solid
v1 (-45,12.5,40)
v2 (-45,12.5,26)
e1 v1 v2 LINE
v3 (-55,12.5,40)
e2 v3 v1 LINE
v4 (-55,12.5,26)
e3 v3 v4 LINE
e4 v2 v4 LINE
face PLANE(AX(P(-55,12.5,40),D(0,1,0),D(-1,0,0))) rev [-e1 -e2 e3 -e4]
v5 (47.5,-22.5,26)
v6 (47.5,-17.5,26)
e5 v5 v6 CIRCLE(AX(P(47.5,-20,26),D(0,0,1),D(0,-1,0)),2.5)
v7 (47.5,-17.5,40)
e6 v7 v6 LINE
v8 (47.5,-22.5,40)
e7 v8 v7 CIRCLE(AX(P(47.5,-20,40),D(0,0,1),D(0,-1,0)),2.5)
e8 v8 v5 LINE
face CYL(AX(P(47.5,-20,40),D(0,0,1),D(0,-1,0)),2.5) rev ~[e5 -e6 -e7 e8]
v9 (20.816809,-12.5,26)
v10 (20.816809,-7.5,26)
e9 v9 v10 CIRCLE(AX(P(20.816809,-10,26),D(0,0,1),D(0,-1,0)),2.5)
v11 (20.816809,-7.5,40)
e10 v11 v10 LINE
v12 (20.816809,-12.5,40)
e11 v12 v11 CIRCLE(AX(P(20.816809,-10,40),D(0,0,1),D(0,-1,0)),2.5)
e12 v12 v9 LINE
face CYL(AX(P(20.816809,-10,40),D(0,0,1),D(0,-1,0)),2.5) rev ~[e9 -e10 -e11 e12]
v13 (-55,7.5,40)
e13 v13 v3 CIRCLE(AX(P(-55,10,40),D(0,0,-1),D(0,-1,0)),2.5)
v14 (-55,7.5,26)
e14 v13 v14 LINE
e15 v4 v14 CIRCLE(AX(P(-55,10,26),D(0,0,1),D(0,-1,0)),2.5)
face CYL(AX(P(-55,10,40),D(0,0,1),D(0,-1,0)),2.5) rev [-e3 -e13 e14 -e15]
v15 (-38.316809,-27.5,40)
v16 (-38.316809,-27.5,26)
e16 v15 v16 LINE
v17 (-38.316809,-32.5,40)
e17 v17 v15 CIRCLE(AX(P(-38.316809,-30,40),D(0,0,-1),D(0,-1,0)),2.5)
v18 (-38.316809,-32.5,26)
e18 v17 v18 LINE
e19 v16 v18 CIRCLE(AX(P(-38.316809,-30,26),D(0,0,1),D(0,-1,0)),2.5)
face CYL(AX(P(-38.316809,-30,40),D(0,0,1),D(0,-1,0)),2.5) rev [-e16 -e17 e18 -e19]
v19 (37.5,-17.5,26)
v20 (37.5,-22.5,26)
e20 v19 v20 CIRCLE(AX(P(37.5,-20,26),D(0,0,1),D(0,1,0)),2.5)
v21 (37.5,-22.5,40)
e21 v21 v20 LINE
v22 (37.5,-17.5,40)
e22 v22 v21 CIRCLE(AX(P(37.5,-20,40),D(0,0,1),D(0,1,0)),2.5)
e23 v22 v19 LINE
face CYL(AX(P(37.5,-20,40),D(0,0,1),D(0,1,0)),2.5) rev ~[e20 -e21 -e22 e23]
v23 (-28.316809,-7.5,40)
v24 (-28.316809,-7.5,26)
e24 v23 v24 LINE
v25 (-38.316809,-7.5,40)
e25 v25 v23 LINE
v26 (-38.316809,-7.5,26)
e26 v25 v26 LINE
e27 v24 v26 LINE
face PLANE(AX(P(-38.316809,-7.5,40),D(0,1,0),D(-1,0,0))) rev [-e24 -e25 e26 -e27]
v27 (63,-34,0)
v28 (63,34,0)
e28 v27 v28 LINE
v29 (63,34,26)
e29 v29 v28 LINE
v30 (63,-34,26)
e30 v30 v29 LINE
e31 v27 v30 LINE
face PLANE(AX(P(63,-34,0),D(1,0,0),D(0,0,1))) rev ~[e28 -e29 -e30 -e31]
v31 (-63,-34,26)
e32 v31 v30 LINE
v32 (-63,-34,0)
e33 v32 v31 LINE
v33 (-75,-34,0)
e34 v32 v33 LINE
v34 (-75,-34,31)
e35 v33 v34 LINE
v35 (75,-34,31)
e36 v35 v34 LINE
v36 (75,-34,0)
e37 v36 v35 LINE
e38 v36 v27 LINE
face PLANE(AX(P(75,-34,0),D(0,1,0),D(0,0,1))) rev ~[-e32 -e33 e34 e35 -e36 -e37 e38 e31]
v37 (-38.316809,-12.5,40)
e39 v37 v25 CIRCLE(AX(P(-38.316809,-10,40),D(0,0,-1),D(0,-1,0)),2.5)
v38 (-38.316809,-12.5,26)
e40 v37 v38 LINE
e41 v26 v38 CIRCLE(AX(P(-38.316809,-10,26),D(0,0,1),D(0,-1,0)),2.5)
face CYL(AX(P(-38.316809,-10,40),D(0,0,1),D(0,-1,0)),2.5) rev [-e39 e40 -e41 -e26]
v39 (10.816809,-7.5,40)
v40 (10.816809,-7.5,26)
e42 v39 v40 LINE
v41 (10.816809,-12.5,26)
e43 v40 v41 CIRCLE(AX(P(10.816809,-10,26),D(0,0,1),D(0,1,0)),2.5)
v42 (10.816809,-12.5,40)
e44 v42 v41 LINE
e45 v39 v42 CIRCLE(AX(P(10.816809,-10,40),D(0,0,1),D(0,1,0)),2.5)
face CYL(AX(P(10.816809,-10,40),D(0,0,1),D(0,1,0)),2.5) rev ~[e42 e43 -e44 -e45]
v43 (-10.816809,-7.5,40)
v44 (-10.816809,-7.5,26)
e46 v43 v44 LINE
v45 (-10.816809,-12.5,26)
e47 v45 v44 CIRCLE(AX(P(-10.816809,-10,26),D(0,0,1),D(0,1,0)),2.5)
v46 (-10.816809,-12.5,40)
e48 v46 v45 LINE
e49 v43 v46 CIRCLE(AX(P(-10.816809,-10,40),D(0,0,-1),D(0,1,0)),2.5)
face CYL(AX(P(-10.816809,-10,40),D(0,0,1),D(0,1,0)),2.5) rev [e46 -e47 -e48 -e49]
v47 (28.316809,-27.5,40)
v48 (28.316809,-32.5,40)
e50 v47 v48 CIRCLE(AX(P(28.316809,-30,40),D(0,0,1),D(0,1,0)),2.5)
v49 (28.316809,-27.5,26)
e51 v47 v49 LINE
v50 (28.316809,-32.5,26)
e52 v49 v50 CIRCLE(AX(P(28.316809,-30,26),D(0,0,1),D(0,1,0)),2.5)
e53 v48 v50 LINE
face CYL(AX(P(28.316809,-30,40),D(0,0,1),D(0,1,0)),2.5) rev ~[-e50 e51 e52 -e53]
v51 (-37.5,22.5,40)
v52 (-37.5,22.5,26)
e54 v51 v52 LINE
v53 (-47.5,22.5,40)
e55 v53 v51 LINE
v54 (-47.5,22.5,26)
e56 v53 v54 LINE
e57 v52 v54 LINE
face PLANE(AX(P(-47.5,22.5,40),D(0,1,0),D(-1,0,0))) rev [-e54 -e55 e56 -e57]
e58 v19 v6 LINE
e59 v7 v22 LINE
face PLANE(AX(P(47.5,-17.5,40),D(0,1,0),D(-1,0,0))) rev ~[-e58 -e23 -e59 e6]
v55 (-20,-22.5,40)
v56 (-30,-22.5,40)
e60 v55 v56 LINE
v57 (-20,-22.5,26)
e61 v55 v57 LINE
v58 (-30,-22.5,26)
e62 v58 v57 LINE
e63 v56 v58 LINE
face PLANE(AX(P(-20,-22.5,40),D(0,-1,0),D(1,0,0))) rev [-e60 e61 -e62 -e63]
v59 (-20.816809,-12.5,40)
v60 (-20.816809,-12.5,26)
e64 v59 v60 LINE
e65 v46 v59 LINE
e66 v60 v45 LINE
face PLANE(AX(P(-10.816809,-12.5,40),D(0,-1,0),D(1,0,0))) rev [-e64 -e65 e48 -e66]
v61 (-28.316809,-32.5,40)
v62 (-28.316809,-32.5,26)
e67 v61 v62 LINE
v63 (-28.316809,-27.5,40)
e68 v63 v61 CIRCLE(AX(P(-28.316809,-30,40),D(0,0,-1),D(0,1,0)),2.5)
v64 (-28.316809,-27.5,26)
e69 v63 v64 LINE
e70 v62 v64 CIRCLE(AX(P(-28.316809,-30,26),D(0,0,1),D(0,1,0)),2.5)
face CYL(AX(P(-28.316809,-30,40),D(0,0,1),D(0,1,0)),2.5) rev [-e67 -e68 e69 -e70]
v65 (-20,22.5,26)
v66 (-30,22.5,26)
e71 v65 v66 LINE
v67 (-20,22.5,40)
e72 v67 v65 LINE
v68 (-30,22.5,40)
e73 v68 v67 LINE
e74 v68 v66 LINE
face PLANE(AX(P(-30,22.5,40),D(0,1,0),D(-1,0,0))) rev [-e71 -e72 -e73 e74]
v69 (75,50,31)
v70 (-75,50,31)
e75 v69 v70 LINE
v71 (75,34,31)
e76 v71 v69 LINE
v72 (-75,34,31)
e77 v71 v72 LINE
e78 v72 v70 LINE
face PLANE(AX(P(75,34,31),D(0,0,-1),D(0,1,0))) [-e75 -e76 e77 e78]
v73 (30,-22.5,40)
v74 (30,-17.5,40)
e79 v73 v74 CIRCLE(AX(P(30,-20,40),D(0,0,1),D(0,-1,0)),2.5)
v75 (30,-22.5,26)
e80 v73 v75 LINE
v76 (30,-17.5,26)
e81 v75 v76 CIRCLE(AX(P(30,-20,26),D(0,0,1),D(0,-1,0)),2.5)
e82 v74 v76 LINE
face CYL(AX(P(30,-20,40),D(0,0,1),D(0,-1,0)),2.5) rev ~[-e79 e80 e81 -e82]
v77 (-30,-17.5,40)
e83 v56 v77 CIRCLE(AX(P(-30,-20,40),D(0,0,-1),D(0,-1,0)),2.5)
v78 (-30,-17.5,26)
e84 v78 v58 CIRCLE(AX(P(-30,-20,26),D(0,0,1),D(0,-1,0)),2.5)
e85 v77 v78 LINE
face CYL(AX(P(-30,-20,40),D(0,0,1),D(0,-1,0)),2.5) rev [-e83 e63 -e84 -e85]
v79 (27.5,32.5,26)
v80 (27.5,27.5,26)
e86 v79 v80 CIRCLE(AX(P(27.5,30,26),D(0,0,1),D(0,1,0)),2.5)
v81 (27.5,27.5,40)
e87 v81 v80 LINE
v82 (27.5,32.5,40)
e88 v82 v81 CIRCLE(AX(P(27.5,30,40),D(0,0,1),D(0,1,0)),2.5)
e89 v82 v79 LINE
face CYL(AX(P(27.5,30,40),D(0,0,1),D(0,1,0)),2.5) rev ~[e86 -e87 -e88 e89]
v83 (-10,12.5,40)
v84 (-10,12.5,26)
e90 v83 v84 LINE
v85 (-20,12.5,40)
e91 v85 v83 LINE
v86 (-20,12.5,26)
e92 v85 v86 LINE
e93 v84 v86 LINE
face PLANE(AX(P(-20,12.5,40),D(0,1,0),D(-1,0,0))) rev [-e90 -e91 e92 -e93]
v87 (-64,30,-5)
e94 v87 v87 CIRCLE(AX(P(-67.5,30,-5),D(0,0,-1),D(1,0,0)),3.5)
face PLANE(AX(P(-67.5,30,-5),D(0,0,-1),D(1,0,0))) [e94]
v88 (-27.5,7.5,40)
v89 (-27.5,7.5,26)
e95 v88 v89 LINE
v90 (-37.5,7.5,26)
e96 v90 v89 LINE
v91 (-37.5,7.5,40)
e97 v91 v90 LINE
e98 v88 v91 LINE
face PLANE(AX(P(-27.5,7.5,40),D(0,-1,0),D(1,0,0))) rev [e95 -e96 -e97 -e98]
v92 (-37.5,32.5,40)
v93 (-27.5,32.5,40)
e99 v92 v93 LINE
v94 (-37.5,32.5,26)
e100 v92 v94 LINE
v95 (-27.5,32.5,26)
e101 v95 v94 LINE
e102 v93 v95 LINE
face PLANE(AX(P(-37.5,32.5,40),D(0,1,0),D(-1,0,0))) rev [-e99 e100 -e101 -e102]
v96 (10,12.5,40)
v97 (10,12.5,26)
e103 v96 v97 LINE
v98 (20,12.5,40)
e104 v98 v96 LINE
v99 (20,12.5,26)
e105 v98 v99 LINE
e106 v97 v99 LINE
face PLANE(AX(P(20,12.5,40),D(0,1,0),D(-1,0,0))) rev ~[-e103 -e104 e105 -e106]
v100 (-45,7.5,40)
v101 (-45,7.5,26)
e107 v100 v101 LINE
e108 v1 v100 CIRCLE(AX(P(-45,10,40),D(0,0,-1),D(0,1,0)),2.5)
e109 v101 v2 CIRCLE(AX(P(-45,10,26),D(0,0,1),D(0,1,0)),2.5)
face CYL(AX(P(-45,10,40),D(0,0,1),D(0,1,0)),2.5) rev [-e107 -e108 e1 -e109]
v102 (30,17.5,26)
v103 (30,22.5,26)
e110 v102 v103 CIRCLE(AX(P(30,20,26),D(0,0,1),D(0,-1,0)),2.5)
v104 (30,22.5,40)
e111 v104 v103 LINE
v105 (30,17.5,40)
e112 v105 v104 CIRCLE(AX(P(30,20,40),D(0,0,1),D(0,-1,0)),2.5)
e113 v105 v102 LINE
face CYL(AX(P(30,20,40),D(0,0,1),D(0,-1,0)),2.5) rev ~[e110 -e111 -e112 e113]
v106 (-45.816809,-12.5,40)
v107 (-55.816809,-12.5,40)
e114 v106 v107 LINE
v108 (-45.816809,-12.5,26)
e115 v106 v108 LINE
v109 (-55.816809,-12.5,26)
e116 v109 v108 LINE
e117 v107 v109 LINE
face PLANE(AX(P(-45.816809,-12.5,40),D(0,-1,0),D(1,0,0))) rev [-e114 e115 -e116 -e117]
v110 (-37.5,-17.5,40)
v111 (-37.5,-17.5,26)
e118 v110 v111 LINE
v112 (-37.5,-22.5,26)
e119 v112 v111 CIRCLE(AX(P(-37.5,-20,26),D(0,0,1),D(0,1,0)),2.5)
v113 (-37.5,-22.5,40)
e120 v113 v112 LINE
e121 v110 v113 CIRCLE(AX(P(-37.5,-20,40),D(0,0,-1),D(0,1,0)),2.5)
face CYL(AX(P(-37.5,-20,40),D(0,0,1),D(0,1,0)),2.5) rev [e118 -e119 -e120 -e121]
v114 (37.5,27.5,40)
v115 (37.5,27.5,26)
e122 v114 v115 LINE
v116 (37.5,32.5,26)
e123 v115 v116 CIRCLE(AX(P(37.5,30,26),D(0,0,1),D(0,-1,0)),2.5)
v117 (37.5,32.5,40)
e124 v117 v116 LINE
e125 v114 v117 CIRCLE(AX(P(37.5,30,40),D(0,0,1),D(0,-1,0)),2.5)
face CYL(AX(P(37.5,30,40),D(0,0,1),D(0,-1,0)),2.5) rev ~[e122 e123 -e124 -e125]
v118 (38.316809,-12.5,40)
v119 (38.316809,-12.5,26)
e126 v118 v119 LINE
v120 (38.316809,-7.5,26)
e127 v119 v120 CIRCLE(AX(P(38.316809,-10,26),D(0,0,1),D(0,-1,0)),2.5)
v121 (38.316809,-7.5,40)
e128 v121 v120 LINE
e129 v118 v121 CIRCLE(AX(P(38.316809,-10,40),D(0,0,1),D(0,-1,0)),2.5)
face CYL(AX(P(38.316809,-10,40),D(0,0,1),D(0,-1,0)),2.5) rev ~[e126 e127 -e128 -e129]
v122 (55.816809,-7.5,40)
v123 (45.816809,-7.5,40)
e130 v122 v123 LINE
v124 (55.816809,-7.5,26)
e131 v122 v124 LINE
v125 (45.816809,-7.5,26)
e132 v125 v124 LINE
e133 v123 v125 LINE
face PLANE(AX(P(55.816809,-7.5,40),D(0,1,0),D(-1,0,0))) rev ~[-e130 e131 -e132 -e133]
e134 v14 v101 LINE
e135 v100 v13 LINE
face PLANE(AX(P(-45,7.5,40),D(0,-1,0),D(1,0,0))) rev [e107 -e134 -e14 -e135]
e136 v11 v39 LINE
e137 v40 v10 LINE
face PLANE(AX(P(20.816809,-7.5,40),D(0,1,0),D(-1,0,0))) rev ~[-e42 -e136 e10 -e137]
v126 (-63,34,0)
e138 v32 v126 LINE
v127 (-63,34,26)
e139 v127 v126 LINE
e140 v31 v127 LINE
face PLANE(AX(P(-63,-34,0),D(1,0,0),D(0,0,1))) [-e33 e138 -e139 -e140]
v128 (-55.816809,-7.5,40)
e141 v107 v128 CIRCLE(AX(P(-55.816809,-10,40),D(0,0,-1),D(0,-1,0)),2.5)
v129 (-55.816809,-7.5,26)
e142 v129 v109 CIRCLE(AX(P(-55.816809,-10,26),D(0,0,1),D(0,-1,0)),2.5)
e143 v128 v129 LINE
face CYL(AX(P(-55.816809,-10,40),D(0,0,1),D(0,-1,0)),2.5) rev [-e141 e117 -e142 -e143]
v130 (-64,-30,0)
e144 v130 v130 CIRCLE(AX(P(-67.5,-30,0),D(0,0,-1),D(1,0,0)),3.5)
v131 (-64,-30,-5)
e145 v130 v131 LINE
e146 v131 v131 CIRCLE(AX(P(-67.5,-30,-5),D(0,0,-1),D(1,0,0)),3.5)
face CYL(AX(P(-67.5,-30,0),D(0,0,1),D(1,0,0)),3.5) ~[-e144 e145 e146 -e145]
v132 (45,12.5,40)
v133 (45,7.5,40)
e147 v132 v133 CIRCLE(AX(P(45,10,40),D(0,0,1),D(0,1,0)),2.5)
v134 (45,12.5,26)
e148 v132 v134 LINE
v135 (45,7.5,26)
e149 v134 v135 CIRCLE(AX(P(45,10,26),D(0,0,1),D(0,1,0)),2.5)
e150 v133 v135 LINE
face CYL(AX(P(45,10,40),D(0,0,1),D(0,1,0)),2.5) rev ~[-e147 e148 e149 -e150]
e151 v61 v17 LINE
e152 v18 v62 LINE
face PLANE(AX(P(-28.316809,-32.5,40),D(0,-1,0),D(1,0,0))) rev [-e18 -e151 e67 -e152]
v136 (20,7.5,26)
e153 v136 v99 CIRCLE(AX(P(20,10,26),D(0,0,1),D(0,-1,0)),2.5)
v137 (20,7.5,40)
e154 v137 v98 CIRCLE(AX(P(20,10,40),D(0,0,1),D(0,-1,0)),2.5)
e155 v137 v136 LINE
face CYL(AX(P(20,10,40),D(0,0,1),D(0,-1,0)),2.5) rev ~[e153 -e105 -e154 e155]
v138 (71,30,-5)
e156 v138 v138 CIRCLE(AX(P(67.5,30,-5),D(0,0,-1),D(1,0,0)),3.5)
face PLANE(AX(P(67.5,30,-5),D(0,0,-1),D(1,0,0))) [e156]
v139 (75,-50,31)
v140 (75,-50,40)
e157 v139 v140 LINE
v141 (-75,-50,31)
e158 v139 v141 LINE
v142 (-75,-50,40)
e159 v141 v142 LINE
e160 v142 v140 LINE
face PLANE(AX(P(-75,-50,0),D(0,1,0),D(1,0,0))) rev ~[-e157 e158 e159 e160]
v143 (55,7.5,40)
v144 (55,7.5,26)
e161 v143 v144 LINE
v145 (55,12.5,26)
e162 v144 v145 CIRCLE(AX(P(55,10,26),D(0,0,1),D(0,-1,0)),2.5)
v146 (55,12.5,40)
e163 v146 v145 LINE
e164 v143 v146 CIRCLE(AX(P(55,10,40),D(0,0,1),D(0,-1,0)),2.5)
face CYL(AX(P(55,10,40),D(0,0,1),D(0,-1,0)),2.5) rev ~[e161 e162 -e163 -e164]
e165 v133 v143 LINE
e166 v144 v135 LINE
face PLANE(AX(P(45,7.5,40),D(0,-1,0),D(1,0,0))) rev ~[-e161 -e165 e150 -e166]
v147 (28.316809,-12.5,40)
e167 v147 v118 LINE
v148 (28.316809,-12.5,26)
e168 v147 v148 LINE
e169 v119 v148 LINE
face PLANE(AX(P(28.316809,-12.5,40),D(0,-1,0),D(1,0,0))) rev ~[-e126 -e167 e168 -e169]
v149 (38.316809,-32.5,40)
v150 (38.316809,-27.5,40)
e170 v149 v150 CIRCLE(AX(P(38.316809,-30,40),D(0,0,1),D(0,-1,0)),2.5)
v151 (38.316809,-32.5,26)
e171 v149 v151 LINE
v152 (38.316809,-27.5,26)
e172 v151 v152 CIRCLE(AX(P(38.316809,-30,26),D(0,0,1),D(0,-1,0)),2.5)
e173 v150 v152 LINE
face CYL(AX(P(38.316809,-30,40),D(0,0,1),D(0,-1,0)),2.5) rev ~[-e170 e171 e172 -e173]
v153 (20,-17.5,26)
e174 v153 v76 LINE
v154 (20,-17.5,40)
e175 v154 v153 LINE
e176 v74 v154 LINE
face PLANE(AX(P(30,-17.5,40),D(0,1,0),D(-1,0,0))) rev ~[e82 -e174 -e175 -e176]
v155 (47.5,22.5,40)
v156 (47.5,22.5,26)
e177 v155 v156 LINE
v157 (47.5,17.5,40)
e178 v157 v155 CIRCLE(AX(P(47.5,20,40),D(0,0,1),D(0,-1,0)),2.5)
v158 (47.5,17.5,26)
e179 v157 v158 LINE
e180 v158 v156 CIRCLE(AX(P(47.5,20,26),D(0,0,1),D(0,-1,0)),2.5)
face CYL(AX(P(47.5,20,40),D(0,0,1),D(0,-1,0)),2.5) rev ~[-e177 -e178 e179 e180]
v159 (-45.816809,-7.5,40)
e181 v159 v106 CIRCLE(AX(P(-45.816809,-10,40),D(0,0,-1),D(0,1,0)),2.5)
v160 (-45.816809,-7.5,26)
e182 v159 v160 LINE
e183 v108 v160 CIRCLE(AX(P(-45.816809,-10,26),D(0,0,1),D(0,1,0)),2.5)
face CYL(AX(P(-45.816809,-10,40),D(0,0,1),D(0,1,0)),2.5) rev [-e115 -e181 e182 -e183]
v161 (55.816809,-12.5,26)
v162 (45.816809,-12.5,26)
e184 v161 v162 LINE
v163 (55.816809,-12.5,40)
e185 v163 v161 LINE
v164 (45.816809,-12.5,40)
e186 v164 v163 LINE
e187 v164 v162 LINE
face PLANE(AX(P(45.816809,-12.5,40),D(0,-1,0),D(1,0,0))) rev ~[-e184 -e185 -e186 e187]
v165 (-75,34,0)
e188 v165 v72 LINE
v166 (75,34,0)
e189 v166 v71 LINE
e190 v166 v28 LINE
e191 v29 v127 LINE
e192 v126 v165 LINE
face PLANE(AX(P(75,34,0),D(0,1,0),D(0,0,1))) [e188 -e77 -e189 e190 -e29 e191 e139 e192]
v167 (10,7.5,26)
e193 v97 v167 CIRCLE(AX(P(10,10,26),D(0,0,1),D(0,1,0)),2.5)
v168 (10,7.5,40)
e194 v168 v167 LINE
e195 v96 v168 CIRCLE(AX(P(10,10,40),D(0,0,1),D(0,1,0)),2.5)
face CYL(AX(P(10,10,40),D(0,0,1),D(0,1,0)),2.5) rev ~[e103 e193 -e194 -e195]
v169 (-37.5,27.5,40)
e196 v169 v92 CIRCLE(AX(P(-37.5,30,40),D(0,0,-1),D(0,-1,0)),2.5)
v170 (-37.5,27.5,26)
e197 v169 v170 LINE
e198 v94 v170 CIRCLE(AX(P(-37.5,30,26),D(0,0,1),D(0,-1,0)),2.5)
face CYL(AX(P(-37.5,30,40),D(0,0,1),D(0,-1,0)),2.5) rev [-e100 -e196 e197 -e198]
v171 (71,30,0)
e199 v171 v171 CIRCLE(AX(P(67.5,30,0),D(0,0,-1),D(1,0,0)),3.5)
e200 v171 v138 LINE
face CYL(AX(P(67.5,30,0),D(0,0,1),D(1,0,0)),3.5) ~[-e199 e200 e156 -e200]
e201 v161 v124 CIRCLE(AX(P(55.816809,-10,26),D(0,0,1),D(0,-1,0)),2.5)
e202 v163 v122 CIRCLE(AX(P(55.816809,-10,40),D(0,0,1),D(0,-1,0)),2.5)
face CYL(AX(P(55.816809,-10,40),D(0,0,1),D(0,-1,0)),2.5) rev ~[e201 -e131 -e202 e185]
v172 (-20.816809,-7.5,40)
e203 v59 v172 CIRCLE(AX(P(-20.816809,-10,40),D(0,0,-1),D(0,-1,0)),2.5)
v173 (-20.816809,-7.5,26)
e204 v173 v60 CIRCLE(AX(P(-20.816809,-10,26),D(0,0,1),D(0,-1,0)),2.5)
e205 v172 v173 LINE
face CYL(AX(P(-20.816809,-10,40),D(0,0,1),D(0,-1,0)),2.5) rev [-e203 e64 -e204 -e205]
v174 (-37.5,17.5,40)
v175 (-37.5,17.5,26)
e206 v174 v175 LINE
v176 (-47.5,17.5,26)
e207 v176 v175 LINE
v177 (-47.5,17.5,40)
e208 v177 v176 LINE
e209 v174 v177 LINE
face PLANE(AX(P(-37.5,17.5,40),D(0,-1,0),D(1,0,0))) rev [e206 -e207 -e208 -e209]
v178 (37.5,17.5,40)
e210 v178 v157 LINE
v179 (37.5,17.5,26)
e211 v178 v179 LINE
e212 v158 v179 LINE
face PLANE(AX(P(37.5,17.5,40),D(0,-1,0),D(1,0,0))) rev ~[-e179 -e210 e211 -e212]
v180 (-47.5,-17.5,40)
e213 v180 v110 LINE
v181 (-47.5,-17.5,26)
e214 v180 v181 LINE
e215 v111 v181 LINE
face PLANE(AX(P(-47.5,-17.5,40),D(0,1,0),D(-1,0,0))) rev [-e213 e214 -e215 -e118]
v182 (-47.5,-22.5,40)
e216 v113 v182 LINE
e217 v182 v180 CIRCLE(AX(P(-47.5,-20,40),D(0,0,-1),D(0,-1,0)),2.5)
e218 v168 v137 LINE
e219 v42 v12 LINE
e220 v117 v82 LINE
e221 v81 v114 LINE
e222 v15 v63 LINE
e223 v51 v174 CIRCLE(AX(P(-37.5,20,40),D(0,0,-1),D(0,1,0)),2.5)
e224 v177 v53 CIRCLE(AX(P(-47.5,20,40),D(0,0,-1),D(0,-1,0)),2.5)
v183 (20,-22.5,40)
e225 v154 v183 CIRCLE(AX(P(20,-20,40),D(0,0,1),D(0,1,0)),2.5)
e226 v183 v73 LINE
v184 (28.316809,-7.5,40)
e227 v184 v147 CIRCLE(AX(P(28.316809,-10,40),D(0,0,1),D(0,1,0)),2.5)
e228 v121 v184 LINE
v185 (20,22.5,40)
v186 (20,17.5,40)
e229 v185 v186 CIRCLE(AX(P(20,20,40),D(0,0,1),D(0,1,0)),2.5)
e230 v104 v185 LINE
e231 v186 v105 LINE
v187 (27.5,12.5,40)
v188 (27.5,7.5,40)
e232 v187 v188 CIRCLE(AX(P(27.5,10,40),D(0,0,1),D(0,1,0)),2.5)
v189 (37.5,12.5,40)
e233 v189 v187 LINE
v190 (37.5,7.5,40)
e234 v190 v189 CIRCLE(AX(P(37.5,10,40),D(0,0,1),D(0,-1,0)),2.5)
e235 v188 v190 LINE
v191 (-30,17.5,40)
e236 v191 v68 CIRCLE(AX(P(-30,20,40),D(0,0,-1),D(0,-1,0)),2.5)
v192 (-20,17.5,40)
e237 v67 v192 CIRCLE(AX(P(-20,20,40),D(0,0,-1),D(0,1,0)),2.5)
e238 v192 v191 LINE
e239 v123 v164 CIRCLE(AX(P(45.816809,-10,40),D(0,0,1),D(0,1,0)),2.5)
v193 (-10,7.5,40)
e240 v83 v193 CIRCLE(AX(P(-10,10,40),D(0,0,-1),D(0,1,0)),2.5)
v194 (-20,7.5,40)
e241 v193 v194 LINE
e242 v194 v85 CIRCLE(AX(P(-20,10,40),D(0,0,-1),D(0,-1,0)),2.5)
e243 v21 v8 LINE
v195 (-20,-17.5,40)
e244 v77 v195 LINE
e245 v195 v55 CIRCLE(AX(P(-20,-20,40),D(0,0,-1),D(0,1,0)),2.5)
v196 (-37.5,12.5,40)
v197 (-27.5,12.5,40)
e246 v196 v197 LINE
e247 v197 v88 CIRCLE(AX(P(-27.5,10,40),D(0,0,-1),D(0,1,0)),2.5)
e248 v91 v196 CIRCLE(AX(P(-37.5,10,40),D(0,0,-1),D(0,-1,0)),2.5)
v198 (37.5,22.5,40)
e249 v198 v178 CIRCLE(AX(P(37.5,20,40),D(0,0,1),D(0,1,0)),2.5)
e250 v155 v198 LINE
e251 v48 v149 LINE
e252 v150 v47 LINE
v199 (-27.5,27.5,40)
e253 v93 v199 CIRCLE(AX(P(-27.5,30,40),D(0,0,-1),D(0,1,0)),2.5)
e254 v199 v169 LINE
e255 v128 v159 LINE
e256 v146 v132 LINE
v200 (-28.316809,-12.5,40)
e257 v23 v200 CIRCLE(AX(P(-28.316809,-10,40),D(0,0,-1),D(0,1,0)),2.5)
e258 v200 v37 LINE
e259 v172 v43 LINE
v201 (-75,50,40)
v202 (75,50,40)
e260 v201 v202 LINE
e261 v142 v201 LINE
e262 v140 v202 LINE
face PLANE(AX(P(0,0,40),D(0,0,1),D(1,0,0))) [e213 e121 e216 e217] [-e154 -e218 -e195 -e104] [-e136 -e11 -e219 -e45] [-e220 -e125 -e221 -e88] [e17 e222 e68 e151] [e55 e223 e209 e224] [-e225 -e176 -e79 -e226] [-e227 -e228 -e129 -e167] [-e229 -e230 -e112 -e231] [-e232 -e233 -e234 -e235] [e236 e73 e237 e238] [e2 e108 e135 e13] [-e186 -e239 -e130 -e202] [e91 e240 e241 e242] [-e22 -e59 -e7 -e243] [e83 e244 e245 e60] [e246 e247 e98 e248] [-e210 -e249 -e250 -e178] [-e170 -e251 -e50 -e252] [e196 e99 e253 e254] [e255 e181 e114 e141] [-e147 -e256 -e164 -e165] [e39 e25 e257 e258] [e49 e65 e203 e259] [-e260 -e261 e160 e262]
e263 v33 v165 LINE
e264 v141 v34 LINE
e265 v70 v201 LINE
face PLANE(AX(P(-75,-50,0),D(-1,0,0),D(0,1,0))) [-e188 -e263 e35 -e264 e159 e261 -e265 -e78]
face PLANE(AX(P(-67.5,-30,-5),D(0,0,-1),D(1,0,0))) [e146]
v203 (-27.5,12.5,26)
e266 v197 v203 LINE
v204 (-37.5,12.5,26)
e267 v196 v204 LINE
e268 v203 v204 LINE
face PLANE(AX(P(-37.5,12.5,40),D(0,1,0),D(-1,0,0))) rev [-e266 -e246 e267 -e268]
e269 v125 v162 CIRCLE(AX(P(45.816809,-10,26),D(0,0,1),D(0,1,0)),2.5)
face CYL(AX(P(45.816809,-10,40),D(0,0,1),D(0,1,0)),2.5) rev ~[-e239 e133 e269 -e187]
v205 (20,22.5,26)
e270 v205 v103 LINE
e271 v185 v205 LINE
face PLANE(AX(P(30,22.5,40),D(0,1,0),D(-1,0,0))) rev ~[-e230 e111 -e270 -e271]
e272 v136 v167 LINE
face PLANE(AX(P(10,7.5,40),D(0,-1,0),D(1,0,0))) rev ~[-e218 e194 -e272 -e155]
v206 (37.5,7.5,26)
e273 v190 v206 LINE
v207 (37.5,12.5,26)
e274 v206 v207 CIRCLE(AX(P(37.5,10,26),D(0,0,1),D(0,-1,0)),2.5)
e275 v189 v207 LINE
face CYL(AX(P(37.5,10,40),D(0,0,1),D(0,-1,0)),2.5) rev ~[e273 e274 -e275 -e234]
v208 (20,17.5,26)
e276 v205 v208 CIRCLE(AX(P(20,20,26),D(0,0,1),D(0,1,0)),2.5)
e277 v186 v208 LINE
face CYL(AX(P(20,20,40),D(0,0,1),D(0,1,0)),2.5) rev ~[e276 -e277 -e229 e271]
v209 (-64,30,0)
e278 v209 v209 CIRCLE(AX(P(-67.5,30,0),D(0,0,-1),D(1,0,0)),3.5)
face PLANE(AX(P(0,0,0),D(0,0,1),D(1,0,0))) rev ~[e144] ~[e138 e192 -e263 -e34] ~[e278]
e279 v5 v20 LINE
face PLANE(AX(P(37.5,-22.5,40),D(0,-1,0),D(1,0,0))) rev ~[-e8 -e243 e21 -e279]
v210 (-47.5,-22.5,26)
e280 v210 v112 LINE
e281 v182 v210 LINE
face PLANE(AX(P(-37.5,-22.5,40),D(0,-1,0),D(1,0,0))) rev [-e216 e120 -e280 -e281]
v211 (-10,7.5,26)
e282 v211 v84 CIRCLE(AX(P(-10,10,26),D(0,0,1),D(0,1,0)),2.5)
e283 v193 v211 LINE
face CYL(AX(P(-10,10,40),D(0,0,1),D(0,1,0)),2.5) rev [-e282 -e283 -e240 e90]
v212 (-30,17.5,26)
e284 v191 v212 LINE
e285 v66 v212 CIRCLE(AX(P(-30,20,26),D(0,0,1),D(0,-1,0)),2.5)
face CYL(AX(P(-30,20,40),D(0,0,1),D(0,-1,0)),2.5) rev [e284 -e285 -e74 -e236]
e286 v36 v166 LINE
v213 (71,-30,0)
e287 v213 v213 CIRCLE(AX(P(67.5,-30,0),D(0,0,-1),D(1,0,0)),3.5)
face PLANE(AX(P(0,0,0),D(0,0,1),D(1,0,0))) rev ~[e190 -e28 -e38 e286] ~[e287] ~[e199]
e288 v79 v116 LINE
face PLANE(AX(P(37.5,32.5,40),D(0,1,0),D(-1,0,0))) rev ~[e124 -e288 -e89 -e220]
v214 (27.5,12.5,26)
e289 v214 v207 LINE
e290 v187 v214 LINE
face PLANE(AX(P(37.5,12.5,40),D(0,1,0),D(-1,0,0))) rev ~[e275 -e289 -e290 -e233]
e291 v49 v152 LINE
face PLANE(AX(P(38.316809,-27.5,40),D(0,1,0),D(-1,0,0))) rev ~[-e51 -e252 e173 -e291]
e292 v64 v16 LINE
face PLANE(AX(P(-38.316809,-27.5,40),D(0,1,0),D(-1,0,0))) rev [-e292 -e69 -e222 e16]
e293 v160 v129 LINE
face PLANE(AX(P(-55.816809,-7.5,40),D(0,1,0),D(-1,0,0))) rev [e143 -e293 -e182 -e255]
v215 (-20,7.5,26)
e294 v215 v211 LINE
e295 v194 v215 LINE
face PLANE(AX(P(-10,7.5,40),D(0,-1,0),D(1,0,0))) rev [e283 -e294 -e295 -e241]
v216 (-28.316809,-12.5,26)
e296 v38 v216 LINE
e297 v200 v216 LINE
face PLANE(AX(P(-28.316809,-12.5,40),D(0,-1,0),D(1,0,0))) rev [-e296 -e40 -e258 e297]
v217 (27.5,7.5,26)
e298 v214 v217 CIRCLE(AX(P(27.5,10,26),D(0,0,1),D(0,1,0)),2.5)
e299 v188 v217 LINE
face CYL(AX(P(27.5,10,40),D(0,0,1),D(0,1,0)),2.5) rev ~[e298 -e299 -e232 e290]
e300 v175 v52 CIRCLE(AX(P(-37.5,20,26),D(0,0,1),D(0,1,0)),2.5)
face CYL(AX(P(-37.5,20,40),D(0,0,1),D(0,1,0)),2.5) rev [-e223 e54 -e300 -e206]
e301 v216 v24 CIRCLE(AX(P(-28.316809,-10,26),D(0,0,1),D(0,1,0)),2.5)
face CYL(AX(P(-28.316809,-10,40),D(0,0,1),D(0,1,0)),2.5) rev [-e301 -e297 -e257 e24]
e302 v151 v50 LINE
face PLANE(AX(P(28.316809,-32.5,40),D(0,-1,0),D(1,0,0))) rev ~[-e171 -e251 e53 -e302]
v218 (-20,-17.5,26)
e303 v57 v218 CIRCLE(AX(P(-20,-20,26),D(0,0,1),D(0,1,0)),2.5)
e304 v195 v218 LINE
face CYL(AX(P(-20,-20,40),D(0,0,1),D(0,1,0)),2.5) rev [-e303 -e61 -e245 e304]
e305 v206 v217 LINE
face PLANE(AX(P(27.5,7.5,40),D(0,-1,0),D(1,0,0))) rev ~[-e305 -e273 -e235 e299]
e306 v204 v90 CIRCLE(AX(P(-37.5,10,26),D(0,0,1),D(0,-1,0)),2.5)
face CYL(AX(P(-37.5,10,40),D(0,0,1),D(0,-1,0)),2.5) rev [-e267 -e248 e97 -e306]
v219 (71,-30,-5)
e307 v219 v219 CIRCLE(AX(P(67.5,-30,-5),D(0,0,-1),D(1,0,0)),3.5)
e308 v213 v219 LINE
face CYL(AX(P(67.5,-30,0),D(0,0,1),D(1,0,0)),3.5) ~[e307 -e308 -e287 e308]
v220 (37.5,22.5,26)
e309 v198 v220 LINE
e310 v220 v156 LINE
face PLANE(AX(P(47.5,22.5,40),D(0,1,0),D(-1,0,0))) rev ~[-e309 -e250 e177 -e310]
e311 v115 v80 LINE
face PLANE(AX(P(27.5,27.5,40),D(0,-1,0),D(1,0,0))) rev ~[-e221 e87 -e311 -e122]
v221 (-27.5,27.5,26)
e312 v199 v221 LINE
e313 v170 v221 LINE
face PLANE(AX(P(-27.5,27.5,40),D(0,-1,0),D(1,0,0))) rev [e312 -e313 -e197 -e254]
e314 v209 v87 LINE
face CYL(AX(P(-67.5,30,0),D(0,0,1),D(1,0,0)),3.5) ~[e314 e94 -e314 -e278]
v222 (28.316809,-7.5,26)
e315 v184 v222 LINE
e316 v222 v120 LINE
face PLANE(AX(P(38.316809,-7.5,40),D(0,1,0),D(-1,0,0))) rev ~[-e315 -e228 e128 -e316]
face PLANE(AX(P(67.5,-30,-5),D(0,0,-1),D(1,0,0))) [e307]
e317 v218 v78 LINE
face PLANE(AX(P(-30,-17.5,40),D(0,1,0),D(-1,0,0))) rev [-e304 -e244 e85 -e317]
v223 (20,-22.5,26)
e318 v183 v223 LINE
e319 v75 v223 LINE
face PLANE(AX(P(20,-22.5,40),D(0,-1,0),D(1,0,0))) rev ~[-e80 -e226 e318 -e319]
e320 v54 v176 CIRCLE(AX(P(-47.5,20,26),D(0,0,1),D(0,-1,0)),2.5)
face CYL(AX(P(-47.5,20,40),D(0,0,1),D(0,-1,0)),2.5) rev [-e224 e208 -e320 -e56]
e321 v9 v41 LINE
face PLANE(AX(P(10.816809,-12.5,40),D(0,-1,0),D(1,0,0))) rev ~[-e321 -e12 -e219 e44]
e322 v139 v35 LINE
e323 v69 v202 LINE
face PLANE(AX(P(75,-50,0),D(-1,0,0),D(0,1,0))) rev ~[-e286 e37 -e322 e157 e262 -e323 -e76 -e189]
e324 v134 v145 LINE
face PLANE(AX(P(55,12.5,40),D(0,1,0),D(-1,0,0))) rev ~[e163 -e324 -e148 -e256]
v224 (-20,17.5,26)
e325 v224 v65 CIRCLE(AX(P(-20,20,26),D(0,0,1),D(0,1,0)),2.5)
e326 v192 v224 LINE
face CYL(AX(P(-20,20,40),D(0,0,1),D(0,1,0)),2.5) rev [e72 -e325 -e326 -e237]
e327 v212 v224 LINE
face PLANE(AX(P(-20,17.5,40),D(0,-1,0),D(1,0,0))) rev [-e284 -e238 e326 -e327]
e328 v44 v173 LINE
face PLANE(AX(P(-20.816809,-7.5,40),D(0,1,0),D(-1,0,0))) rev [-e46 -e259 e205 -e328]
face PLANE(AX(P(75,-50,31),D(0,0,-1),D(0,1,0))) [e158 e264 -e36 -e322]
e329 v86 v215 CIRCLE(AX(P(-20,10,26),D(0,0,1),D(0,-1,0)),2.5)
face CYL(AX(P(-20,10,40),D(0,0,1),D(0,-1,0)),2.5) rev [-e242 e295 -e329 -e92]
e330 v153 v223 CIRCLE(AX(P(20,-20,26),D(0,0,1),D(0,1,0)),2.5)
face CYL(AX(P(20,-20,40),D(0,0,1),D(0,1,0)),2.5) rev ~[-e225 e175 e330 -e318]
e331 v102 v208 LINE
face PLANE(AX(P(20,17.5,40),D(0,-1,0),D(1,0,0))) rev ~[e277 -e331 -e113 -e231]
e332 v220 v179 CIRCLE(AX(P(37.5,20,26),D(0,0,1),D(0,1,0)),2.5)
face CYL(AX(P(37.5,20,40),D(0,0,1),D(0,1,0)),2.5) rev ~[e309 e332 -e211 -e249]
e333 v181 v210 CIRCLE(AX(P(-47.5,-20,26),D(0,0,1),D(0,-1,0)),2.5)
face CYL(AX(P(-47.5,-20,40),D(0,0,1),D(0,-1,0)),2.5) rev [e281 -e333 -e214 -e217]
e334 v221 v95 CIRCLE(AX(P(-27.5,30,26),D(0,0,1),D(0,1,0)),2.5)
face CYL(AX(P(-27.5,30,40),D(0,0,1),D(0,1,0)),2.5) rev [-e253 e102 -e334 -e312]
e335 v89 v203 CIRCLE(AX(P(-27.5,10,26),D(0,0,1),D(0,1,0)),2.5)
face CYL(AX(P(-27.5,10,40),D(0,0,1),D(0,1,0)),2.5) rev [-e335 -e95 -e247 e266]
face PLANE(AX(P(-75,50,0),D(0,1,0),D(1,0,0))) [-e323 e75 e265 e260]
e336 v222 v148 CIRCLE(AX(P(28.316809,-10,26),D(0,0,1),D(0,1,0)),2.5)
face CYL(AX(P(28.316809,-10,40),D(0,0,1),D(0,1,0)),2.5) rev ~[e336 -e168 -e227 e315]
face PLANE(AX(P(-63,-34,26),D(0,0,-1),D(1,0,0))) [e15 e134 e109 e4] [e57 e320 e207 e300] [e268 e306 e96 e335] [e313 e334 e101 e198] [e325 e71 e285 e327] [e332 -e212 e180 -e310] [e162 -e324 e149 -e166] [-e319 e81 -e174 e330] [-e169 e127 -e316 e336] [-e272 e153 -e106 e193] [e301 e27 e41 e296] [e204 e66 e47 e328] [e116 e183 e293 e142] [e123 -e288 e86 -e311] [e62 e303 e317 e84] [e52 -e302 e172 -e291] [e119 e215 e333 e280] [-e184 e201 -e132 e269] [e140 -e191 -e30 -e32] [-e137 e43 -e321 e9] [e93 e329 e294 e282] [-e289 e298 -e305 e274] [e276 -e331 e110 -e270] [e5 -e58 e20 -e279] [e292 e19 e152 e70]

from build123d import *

# Parameters (mm, degrees)
SKETCH_W        = 150
SKETCH_H        = 100
PAD_DEPTH       = 40
SKETCH001_R     = 3.5
PAD001_DEPTH    = 5
SKETCH002_W     = 16
SKETCH002_H     = 31
POCKET_DEPTH    = 150
SKETCH003_W     = 126
SKETCH003_H     = 26
POCKET001_DEPTH = 100
POCKET002_DEPTH = 17
POCKET003_DEPTH = 18


with BuildPart() as part:
    # Sketch → Pad (new body)
    with BuildSketch(Plane.XY):
        Rectangle(SKETCH_W, SKETCH_H)
    extrude(amount=PAD_DEPTH)

    # Sketch001 (on Face5 of Pad) → Pad001 (join)
    with BuildSketch(Plane(origin=(0, 0, 0), x_dir=(1, 0, 0), z_dir=(0, 0, -1))):
        with Locations((67.5, 30)):
            Circle(SKETCH001_R)
        with Locations((67.5, -30)):
            Circle(SKETCH001_R)
        with Locations((-67.5, -30)):
            Circle(SKETCH001_R)
        with Locations((-67.5, 30)):
            Circle(SKETCH001_R)
    extrude(amount=PAD001_DEPTH)

    # Sketch002 (on Face3 of Pad001) → Pocket (cut)
    with BuildSketch(Plane.YZ.offset(75)):
        with Locations((42, 15.5)):
            Rectangle(SKETCH002_W, SKETCH002_H)
        with Locations((-42, 15.5)):
            Rectangle(SKETCH002_W, SKETCH002_H)
    extrude(amount=-POCKET_DEPTH, mode=Mode.SUBTRACT)

    # Sketch003 (on Face8 of Pocket) → Pocket001 (cut)
    with BuildSketch(Plane.XZ.offset(34)):
        with Locations((0, 13)):
            Rectangle(SKETCH003_W, SKETCH003_H)
    extrude(amount=-POCKET001_DEPTH, mode=Mode.SUBTRACT)

    # Sketch004 (on Face4 of Pocket001) → Pocket002 (cut)
    with BuildSketch(Plane.XY.offset(40)):
        with BuildLine():
            ThreePointArc((37.5, 22.5), (35, 20), (37.5, 17.5))
            Line((37.5, 17.5), (47.5, 17.5))
            ThreePointArc((47.5, 17.5), (50, 20), (47.5, 22.5))
            Line((47.5, 22.5), (37.5, 22.5))
        make_face()
        with BuildLine():
            ThreePointArc((45, 12.5), (42.5, 10), (45, 7.5))
            Line((45, 7.5), (55, 7.5))
            ThreePointArc((55, 7.5), (57.5, 10), (55, 12.5))
            Line((55, 12.5), (45, 12.5))
        make_face()
        with BuildLine():
            ThreePointArc((27.5, 32.5), (25, 30), (27.5, 27.5))
            Line((27.5, 27.5), (37.5, 27.5))
            ThreePointArc((37.5, 27.5), (40, 30), (37.5, 32.5))
            Line((37.5, 32.5), (27.5, 32.5))
        make_face()
        with BuildLine():
            ThreePointArc((20, 22.5), (17.5, 20), (20, 17.5))
            Line((20, 17.5), (30, 17.5))
            ThreePointArc((30, 17.5), (32.5, 20), (30, 22.5))
            Line((30, 22.5), (20, 22.5))
        make_face()
        with BuildLine():
            ThreePointArc((10, 12.5), (7.5, 10), (10, 7.5))
            Line((10, 7.5), (20, 7.5))
            ThreePointArc((20, 7.5), (22.5, 10), (20, 12.5))
            Line((20, 12.5), (10, 12.5))
        make_face()
        with BuildLine():
            ThreePointArc((27.5, 12.5), (25, 10), (27.5, 7.5))
            Line((27.5, 7.5), (37.5, 7.5))
            ThreePointArc((37.5, 7.5), (40, 10), (37.5, 12.5))
            Line((37.5, 12.5), (27.5, 12.5))
        make_face()
    pocket002 = extrude(amount=-POCKET002_DEPTH, mode=Mode.SUBTRACT)

    # Sketch005 (on Face4 of Pocket002) → Pocket003 (cut)
    with BuildSketch(Plane.XY.offset(40)):
        with BuildLine():
            ThreePointArc((10.816809, -7.5), (8.316809, -10), (10.816809, -12.5))
            Line((10.816809, -12.5), (20.816809, -12.5))
            ThreePointArc((20.816809, -12.5), (23.316809, -10), (20.816809, -7.5))
            Line((20.816809, -7.5), (10.816809, -7.5))
        make_face()
        with BuildLine():
            ThreePointArc((28.316809, -7.5), (25.816809, -10), (28.316809, -12.5))
            Line((28.316809, -12.5), (38.316809, -12.5))
            ThreePointArc((38.316809, -12.5), (40.816809, -10), (38.316809, -7.5))
            Line((38.316809, -7.5), (28.316809, -7.5))
        make_face()
        with BuildLine():
            ThreePointArc((45.816809, -7.5), (43.316809, -10), (45.816809, -12.5))
            Line((45.816809, -12.5), (55.816809, -12.5))
            ThreePointArc((55.816809, -12.5), (58.316809, -10), (55.816809, -7.5))
            Line((55.816809, -7.5), (45.816809, -7.5))
        make_face()
        with BuildLine():
            ThreePointArc((20, -17.5), (17.5, -20), (20, -22.5))
            Line((20, -22.5), (30, -22.5))
            ThreePointArc((30, -22.5), (32.5, -20), (30, -17.5))
            Line((30, -17.5), (20, -17.5))
        make_face()
        with BuildLine():
            ThreePointArc((37.5, -17.5), (35, -20), (37.5, -22.5))
            Line((37.5, -22.5), (47.5, -22.5))
            ThreePointArc((47.5, -22.5), (50, -20), (47.5, -17.5))
            Line((47.5, -17.5), (37.5, -17.5))
        make_face()
        with BuildLine():
            ThreePointArc((28.316809, -27.5), (25.816809, -30), (28.316809, -32.5))
            Line((28.316809, -32.5), (38.316809, -32.5))
            ThreePointArc((38.316809, -32.5), (40.816809, -30), (38.316809, -27.5))
            Line((38.316809, -27.5), (28.316809, -27.5))
        make_face()
    pocket003 = extrude(amount=-POCKET003_DEPTH, mode=Mode.SUBTRACT)

    # Mirrored: Pocket002 across Sketch004 V_Axis
    add(pocket002.mirror(Plane(origin=(0, 0, 40), x_dir=(0, 0, 1), z_dir=(1, 0, 0))), mode=Mode.SUBTRACT)

    # Mirrored001: Pocket003 across Sketch005 V_Axis
    add(pocket003.mirror(Plane(origin=(0, 0, 40), x_dir=(0, 0, 1), z_dir=(1, 0, 0))), mode=Mode.SUBTRACT)


solid = part.part
